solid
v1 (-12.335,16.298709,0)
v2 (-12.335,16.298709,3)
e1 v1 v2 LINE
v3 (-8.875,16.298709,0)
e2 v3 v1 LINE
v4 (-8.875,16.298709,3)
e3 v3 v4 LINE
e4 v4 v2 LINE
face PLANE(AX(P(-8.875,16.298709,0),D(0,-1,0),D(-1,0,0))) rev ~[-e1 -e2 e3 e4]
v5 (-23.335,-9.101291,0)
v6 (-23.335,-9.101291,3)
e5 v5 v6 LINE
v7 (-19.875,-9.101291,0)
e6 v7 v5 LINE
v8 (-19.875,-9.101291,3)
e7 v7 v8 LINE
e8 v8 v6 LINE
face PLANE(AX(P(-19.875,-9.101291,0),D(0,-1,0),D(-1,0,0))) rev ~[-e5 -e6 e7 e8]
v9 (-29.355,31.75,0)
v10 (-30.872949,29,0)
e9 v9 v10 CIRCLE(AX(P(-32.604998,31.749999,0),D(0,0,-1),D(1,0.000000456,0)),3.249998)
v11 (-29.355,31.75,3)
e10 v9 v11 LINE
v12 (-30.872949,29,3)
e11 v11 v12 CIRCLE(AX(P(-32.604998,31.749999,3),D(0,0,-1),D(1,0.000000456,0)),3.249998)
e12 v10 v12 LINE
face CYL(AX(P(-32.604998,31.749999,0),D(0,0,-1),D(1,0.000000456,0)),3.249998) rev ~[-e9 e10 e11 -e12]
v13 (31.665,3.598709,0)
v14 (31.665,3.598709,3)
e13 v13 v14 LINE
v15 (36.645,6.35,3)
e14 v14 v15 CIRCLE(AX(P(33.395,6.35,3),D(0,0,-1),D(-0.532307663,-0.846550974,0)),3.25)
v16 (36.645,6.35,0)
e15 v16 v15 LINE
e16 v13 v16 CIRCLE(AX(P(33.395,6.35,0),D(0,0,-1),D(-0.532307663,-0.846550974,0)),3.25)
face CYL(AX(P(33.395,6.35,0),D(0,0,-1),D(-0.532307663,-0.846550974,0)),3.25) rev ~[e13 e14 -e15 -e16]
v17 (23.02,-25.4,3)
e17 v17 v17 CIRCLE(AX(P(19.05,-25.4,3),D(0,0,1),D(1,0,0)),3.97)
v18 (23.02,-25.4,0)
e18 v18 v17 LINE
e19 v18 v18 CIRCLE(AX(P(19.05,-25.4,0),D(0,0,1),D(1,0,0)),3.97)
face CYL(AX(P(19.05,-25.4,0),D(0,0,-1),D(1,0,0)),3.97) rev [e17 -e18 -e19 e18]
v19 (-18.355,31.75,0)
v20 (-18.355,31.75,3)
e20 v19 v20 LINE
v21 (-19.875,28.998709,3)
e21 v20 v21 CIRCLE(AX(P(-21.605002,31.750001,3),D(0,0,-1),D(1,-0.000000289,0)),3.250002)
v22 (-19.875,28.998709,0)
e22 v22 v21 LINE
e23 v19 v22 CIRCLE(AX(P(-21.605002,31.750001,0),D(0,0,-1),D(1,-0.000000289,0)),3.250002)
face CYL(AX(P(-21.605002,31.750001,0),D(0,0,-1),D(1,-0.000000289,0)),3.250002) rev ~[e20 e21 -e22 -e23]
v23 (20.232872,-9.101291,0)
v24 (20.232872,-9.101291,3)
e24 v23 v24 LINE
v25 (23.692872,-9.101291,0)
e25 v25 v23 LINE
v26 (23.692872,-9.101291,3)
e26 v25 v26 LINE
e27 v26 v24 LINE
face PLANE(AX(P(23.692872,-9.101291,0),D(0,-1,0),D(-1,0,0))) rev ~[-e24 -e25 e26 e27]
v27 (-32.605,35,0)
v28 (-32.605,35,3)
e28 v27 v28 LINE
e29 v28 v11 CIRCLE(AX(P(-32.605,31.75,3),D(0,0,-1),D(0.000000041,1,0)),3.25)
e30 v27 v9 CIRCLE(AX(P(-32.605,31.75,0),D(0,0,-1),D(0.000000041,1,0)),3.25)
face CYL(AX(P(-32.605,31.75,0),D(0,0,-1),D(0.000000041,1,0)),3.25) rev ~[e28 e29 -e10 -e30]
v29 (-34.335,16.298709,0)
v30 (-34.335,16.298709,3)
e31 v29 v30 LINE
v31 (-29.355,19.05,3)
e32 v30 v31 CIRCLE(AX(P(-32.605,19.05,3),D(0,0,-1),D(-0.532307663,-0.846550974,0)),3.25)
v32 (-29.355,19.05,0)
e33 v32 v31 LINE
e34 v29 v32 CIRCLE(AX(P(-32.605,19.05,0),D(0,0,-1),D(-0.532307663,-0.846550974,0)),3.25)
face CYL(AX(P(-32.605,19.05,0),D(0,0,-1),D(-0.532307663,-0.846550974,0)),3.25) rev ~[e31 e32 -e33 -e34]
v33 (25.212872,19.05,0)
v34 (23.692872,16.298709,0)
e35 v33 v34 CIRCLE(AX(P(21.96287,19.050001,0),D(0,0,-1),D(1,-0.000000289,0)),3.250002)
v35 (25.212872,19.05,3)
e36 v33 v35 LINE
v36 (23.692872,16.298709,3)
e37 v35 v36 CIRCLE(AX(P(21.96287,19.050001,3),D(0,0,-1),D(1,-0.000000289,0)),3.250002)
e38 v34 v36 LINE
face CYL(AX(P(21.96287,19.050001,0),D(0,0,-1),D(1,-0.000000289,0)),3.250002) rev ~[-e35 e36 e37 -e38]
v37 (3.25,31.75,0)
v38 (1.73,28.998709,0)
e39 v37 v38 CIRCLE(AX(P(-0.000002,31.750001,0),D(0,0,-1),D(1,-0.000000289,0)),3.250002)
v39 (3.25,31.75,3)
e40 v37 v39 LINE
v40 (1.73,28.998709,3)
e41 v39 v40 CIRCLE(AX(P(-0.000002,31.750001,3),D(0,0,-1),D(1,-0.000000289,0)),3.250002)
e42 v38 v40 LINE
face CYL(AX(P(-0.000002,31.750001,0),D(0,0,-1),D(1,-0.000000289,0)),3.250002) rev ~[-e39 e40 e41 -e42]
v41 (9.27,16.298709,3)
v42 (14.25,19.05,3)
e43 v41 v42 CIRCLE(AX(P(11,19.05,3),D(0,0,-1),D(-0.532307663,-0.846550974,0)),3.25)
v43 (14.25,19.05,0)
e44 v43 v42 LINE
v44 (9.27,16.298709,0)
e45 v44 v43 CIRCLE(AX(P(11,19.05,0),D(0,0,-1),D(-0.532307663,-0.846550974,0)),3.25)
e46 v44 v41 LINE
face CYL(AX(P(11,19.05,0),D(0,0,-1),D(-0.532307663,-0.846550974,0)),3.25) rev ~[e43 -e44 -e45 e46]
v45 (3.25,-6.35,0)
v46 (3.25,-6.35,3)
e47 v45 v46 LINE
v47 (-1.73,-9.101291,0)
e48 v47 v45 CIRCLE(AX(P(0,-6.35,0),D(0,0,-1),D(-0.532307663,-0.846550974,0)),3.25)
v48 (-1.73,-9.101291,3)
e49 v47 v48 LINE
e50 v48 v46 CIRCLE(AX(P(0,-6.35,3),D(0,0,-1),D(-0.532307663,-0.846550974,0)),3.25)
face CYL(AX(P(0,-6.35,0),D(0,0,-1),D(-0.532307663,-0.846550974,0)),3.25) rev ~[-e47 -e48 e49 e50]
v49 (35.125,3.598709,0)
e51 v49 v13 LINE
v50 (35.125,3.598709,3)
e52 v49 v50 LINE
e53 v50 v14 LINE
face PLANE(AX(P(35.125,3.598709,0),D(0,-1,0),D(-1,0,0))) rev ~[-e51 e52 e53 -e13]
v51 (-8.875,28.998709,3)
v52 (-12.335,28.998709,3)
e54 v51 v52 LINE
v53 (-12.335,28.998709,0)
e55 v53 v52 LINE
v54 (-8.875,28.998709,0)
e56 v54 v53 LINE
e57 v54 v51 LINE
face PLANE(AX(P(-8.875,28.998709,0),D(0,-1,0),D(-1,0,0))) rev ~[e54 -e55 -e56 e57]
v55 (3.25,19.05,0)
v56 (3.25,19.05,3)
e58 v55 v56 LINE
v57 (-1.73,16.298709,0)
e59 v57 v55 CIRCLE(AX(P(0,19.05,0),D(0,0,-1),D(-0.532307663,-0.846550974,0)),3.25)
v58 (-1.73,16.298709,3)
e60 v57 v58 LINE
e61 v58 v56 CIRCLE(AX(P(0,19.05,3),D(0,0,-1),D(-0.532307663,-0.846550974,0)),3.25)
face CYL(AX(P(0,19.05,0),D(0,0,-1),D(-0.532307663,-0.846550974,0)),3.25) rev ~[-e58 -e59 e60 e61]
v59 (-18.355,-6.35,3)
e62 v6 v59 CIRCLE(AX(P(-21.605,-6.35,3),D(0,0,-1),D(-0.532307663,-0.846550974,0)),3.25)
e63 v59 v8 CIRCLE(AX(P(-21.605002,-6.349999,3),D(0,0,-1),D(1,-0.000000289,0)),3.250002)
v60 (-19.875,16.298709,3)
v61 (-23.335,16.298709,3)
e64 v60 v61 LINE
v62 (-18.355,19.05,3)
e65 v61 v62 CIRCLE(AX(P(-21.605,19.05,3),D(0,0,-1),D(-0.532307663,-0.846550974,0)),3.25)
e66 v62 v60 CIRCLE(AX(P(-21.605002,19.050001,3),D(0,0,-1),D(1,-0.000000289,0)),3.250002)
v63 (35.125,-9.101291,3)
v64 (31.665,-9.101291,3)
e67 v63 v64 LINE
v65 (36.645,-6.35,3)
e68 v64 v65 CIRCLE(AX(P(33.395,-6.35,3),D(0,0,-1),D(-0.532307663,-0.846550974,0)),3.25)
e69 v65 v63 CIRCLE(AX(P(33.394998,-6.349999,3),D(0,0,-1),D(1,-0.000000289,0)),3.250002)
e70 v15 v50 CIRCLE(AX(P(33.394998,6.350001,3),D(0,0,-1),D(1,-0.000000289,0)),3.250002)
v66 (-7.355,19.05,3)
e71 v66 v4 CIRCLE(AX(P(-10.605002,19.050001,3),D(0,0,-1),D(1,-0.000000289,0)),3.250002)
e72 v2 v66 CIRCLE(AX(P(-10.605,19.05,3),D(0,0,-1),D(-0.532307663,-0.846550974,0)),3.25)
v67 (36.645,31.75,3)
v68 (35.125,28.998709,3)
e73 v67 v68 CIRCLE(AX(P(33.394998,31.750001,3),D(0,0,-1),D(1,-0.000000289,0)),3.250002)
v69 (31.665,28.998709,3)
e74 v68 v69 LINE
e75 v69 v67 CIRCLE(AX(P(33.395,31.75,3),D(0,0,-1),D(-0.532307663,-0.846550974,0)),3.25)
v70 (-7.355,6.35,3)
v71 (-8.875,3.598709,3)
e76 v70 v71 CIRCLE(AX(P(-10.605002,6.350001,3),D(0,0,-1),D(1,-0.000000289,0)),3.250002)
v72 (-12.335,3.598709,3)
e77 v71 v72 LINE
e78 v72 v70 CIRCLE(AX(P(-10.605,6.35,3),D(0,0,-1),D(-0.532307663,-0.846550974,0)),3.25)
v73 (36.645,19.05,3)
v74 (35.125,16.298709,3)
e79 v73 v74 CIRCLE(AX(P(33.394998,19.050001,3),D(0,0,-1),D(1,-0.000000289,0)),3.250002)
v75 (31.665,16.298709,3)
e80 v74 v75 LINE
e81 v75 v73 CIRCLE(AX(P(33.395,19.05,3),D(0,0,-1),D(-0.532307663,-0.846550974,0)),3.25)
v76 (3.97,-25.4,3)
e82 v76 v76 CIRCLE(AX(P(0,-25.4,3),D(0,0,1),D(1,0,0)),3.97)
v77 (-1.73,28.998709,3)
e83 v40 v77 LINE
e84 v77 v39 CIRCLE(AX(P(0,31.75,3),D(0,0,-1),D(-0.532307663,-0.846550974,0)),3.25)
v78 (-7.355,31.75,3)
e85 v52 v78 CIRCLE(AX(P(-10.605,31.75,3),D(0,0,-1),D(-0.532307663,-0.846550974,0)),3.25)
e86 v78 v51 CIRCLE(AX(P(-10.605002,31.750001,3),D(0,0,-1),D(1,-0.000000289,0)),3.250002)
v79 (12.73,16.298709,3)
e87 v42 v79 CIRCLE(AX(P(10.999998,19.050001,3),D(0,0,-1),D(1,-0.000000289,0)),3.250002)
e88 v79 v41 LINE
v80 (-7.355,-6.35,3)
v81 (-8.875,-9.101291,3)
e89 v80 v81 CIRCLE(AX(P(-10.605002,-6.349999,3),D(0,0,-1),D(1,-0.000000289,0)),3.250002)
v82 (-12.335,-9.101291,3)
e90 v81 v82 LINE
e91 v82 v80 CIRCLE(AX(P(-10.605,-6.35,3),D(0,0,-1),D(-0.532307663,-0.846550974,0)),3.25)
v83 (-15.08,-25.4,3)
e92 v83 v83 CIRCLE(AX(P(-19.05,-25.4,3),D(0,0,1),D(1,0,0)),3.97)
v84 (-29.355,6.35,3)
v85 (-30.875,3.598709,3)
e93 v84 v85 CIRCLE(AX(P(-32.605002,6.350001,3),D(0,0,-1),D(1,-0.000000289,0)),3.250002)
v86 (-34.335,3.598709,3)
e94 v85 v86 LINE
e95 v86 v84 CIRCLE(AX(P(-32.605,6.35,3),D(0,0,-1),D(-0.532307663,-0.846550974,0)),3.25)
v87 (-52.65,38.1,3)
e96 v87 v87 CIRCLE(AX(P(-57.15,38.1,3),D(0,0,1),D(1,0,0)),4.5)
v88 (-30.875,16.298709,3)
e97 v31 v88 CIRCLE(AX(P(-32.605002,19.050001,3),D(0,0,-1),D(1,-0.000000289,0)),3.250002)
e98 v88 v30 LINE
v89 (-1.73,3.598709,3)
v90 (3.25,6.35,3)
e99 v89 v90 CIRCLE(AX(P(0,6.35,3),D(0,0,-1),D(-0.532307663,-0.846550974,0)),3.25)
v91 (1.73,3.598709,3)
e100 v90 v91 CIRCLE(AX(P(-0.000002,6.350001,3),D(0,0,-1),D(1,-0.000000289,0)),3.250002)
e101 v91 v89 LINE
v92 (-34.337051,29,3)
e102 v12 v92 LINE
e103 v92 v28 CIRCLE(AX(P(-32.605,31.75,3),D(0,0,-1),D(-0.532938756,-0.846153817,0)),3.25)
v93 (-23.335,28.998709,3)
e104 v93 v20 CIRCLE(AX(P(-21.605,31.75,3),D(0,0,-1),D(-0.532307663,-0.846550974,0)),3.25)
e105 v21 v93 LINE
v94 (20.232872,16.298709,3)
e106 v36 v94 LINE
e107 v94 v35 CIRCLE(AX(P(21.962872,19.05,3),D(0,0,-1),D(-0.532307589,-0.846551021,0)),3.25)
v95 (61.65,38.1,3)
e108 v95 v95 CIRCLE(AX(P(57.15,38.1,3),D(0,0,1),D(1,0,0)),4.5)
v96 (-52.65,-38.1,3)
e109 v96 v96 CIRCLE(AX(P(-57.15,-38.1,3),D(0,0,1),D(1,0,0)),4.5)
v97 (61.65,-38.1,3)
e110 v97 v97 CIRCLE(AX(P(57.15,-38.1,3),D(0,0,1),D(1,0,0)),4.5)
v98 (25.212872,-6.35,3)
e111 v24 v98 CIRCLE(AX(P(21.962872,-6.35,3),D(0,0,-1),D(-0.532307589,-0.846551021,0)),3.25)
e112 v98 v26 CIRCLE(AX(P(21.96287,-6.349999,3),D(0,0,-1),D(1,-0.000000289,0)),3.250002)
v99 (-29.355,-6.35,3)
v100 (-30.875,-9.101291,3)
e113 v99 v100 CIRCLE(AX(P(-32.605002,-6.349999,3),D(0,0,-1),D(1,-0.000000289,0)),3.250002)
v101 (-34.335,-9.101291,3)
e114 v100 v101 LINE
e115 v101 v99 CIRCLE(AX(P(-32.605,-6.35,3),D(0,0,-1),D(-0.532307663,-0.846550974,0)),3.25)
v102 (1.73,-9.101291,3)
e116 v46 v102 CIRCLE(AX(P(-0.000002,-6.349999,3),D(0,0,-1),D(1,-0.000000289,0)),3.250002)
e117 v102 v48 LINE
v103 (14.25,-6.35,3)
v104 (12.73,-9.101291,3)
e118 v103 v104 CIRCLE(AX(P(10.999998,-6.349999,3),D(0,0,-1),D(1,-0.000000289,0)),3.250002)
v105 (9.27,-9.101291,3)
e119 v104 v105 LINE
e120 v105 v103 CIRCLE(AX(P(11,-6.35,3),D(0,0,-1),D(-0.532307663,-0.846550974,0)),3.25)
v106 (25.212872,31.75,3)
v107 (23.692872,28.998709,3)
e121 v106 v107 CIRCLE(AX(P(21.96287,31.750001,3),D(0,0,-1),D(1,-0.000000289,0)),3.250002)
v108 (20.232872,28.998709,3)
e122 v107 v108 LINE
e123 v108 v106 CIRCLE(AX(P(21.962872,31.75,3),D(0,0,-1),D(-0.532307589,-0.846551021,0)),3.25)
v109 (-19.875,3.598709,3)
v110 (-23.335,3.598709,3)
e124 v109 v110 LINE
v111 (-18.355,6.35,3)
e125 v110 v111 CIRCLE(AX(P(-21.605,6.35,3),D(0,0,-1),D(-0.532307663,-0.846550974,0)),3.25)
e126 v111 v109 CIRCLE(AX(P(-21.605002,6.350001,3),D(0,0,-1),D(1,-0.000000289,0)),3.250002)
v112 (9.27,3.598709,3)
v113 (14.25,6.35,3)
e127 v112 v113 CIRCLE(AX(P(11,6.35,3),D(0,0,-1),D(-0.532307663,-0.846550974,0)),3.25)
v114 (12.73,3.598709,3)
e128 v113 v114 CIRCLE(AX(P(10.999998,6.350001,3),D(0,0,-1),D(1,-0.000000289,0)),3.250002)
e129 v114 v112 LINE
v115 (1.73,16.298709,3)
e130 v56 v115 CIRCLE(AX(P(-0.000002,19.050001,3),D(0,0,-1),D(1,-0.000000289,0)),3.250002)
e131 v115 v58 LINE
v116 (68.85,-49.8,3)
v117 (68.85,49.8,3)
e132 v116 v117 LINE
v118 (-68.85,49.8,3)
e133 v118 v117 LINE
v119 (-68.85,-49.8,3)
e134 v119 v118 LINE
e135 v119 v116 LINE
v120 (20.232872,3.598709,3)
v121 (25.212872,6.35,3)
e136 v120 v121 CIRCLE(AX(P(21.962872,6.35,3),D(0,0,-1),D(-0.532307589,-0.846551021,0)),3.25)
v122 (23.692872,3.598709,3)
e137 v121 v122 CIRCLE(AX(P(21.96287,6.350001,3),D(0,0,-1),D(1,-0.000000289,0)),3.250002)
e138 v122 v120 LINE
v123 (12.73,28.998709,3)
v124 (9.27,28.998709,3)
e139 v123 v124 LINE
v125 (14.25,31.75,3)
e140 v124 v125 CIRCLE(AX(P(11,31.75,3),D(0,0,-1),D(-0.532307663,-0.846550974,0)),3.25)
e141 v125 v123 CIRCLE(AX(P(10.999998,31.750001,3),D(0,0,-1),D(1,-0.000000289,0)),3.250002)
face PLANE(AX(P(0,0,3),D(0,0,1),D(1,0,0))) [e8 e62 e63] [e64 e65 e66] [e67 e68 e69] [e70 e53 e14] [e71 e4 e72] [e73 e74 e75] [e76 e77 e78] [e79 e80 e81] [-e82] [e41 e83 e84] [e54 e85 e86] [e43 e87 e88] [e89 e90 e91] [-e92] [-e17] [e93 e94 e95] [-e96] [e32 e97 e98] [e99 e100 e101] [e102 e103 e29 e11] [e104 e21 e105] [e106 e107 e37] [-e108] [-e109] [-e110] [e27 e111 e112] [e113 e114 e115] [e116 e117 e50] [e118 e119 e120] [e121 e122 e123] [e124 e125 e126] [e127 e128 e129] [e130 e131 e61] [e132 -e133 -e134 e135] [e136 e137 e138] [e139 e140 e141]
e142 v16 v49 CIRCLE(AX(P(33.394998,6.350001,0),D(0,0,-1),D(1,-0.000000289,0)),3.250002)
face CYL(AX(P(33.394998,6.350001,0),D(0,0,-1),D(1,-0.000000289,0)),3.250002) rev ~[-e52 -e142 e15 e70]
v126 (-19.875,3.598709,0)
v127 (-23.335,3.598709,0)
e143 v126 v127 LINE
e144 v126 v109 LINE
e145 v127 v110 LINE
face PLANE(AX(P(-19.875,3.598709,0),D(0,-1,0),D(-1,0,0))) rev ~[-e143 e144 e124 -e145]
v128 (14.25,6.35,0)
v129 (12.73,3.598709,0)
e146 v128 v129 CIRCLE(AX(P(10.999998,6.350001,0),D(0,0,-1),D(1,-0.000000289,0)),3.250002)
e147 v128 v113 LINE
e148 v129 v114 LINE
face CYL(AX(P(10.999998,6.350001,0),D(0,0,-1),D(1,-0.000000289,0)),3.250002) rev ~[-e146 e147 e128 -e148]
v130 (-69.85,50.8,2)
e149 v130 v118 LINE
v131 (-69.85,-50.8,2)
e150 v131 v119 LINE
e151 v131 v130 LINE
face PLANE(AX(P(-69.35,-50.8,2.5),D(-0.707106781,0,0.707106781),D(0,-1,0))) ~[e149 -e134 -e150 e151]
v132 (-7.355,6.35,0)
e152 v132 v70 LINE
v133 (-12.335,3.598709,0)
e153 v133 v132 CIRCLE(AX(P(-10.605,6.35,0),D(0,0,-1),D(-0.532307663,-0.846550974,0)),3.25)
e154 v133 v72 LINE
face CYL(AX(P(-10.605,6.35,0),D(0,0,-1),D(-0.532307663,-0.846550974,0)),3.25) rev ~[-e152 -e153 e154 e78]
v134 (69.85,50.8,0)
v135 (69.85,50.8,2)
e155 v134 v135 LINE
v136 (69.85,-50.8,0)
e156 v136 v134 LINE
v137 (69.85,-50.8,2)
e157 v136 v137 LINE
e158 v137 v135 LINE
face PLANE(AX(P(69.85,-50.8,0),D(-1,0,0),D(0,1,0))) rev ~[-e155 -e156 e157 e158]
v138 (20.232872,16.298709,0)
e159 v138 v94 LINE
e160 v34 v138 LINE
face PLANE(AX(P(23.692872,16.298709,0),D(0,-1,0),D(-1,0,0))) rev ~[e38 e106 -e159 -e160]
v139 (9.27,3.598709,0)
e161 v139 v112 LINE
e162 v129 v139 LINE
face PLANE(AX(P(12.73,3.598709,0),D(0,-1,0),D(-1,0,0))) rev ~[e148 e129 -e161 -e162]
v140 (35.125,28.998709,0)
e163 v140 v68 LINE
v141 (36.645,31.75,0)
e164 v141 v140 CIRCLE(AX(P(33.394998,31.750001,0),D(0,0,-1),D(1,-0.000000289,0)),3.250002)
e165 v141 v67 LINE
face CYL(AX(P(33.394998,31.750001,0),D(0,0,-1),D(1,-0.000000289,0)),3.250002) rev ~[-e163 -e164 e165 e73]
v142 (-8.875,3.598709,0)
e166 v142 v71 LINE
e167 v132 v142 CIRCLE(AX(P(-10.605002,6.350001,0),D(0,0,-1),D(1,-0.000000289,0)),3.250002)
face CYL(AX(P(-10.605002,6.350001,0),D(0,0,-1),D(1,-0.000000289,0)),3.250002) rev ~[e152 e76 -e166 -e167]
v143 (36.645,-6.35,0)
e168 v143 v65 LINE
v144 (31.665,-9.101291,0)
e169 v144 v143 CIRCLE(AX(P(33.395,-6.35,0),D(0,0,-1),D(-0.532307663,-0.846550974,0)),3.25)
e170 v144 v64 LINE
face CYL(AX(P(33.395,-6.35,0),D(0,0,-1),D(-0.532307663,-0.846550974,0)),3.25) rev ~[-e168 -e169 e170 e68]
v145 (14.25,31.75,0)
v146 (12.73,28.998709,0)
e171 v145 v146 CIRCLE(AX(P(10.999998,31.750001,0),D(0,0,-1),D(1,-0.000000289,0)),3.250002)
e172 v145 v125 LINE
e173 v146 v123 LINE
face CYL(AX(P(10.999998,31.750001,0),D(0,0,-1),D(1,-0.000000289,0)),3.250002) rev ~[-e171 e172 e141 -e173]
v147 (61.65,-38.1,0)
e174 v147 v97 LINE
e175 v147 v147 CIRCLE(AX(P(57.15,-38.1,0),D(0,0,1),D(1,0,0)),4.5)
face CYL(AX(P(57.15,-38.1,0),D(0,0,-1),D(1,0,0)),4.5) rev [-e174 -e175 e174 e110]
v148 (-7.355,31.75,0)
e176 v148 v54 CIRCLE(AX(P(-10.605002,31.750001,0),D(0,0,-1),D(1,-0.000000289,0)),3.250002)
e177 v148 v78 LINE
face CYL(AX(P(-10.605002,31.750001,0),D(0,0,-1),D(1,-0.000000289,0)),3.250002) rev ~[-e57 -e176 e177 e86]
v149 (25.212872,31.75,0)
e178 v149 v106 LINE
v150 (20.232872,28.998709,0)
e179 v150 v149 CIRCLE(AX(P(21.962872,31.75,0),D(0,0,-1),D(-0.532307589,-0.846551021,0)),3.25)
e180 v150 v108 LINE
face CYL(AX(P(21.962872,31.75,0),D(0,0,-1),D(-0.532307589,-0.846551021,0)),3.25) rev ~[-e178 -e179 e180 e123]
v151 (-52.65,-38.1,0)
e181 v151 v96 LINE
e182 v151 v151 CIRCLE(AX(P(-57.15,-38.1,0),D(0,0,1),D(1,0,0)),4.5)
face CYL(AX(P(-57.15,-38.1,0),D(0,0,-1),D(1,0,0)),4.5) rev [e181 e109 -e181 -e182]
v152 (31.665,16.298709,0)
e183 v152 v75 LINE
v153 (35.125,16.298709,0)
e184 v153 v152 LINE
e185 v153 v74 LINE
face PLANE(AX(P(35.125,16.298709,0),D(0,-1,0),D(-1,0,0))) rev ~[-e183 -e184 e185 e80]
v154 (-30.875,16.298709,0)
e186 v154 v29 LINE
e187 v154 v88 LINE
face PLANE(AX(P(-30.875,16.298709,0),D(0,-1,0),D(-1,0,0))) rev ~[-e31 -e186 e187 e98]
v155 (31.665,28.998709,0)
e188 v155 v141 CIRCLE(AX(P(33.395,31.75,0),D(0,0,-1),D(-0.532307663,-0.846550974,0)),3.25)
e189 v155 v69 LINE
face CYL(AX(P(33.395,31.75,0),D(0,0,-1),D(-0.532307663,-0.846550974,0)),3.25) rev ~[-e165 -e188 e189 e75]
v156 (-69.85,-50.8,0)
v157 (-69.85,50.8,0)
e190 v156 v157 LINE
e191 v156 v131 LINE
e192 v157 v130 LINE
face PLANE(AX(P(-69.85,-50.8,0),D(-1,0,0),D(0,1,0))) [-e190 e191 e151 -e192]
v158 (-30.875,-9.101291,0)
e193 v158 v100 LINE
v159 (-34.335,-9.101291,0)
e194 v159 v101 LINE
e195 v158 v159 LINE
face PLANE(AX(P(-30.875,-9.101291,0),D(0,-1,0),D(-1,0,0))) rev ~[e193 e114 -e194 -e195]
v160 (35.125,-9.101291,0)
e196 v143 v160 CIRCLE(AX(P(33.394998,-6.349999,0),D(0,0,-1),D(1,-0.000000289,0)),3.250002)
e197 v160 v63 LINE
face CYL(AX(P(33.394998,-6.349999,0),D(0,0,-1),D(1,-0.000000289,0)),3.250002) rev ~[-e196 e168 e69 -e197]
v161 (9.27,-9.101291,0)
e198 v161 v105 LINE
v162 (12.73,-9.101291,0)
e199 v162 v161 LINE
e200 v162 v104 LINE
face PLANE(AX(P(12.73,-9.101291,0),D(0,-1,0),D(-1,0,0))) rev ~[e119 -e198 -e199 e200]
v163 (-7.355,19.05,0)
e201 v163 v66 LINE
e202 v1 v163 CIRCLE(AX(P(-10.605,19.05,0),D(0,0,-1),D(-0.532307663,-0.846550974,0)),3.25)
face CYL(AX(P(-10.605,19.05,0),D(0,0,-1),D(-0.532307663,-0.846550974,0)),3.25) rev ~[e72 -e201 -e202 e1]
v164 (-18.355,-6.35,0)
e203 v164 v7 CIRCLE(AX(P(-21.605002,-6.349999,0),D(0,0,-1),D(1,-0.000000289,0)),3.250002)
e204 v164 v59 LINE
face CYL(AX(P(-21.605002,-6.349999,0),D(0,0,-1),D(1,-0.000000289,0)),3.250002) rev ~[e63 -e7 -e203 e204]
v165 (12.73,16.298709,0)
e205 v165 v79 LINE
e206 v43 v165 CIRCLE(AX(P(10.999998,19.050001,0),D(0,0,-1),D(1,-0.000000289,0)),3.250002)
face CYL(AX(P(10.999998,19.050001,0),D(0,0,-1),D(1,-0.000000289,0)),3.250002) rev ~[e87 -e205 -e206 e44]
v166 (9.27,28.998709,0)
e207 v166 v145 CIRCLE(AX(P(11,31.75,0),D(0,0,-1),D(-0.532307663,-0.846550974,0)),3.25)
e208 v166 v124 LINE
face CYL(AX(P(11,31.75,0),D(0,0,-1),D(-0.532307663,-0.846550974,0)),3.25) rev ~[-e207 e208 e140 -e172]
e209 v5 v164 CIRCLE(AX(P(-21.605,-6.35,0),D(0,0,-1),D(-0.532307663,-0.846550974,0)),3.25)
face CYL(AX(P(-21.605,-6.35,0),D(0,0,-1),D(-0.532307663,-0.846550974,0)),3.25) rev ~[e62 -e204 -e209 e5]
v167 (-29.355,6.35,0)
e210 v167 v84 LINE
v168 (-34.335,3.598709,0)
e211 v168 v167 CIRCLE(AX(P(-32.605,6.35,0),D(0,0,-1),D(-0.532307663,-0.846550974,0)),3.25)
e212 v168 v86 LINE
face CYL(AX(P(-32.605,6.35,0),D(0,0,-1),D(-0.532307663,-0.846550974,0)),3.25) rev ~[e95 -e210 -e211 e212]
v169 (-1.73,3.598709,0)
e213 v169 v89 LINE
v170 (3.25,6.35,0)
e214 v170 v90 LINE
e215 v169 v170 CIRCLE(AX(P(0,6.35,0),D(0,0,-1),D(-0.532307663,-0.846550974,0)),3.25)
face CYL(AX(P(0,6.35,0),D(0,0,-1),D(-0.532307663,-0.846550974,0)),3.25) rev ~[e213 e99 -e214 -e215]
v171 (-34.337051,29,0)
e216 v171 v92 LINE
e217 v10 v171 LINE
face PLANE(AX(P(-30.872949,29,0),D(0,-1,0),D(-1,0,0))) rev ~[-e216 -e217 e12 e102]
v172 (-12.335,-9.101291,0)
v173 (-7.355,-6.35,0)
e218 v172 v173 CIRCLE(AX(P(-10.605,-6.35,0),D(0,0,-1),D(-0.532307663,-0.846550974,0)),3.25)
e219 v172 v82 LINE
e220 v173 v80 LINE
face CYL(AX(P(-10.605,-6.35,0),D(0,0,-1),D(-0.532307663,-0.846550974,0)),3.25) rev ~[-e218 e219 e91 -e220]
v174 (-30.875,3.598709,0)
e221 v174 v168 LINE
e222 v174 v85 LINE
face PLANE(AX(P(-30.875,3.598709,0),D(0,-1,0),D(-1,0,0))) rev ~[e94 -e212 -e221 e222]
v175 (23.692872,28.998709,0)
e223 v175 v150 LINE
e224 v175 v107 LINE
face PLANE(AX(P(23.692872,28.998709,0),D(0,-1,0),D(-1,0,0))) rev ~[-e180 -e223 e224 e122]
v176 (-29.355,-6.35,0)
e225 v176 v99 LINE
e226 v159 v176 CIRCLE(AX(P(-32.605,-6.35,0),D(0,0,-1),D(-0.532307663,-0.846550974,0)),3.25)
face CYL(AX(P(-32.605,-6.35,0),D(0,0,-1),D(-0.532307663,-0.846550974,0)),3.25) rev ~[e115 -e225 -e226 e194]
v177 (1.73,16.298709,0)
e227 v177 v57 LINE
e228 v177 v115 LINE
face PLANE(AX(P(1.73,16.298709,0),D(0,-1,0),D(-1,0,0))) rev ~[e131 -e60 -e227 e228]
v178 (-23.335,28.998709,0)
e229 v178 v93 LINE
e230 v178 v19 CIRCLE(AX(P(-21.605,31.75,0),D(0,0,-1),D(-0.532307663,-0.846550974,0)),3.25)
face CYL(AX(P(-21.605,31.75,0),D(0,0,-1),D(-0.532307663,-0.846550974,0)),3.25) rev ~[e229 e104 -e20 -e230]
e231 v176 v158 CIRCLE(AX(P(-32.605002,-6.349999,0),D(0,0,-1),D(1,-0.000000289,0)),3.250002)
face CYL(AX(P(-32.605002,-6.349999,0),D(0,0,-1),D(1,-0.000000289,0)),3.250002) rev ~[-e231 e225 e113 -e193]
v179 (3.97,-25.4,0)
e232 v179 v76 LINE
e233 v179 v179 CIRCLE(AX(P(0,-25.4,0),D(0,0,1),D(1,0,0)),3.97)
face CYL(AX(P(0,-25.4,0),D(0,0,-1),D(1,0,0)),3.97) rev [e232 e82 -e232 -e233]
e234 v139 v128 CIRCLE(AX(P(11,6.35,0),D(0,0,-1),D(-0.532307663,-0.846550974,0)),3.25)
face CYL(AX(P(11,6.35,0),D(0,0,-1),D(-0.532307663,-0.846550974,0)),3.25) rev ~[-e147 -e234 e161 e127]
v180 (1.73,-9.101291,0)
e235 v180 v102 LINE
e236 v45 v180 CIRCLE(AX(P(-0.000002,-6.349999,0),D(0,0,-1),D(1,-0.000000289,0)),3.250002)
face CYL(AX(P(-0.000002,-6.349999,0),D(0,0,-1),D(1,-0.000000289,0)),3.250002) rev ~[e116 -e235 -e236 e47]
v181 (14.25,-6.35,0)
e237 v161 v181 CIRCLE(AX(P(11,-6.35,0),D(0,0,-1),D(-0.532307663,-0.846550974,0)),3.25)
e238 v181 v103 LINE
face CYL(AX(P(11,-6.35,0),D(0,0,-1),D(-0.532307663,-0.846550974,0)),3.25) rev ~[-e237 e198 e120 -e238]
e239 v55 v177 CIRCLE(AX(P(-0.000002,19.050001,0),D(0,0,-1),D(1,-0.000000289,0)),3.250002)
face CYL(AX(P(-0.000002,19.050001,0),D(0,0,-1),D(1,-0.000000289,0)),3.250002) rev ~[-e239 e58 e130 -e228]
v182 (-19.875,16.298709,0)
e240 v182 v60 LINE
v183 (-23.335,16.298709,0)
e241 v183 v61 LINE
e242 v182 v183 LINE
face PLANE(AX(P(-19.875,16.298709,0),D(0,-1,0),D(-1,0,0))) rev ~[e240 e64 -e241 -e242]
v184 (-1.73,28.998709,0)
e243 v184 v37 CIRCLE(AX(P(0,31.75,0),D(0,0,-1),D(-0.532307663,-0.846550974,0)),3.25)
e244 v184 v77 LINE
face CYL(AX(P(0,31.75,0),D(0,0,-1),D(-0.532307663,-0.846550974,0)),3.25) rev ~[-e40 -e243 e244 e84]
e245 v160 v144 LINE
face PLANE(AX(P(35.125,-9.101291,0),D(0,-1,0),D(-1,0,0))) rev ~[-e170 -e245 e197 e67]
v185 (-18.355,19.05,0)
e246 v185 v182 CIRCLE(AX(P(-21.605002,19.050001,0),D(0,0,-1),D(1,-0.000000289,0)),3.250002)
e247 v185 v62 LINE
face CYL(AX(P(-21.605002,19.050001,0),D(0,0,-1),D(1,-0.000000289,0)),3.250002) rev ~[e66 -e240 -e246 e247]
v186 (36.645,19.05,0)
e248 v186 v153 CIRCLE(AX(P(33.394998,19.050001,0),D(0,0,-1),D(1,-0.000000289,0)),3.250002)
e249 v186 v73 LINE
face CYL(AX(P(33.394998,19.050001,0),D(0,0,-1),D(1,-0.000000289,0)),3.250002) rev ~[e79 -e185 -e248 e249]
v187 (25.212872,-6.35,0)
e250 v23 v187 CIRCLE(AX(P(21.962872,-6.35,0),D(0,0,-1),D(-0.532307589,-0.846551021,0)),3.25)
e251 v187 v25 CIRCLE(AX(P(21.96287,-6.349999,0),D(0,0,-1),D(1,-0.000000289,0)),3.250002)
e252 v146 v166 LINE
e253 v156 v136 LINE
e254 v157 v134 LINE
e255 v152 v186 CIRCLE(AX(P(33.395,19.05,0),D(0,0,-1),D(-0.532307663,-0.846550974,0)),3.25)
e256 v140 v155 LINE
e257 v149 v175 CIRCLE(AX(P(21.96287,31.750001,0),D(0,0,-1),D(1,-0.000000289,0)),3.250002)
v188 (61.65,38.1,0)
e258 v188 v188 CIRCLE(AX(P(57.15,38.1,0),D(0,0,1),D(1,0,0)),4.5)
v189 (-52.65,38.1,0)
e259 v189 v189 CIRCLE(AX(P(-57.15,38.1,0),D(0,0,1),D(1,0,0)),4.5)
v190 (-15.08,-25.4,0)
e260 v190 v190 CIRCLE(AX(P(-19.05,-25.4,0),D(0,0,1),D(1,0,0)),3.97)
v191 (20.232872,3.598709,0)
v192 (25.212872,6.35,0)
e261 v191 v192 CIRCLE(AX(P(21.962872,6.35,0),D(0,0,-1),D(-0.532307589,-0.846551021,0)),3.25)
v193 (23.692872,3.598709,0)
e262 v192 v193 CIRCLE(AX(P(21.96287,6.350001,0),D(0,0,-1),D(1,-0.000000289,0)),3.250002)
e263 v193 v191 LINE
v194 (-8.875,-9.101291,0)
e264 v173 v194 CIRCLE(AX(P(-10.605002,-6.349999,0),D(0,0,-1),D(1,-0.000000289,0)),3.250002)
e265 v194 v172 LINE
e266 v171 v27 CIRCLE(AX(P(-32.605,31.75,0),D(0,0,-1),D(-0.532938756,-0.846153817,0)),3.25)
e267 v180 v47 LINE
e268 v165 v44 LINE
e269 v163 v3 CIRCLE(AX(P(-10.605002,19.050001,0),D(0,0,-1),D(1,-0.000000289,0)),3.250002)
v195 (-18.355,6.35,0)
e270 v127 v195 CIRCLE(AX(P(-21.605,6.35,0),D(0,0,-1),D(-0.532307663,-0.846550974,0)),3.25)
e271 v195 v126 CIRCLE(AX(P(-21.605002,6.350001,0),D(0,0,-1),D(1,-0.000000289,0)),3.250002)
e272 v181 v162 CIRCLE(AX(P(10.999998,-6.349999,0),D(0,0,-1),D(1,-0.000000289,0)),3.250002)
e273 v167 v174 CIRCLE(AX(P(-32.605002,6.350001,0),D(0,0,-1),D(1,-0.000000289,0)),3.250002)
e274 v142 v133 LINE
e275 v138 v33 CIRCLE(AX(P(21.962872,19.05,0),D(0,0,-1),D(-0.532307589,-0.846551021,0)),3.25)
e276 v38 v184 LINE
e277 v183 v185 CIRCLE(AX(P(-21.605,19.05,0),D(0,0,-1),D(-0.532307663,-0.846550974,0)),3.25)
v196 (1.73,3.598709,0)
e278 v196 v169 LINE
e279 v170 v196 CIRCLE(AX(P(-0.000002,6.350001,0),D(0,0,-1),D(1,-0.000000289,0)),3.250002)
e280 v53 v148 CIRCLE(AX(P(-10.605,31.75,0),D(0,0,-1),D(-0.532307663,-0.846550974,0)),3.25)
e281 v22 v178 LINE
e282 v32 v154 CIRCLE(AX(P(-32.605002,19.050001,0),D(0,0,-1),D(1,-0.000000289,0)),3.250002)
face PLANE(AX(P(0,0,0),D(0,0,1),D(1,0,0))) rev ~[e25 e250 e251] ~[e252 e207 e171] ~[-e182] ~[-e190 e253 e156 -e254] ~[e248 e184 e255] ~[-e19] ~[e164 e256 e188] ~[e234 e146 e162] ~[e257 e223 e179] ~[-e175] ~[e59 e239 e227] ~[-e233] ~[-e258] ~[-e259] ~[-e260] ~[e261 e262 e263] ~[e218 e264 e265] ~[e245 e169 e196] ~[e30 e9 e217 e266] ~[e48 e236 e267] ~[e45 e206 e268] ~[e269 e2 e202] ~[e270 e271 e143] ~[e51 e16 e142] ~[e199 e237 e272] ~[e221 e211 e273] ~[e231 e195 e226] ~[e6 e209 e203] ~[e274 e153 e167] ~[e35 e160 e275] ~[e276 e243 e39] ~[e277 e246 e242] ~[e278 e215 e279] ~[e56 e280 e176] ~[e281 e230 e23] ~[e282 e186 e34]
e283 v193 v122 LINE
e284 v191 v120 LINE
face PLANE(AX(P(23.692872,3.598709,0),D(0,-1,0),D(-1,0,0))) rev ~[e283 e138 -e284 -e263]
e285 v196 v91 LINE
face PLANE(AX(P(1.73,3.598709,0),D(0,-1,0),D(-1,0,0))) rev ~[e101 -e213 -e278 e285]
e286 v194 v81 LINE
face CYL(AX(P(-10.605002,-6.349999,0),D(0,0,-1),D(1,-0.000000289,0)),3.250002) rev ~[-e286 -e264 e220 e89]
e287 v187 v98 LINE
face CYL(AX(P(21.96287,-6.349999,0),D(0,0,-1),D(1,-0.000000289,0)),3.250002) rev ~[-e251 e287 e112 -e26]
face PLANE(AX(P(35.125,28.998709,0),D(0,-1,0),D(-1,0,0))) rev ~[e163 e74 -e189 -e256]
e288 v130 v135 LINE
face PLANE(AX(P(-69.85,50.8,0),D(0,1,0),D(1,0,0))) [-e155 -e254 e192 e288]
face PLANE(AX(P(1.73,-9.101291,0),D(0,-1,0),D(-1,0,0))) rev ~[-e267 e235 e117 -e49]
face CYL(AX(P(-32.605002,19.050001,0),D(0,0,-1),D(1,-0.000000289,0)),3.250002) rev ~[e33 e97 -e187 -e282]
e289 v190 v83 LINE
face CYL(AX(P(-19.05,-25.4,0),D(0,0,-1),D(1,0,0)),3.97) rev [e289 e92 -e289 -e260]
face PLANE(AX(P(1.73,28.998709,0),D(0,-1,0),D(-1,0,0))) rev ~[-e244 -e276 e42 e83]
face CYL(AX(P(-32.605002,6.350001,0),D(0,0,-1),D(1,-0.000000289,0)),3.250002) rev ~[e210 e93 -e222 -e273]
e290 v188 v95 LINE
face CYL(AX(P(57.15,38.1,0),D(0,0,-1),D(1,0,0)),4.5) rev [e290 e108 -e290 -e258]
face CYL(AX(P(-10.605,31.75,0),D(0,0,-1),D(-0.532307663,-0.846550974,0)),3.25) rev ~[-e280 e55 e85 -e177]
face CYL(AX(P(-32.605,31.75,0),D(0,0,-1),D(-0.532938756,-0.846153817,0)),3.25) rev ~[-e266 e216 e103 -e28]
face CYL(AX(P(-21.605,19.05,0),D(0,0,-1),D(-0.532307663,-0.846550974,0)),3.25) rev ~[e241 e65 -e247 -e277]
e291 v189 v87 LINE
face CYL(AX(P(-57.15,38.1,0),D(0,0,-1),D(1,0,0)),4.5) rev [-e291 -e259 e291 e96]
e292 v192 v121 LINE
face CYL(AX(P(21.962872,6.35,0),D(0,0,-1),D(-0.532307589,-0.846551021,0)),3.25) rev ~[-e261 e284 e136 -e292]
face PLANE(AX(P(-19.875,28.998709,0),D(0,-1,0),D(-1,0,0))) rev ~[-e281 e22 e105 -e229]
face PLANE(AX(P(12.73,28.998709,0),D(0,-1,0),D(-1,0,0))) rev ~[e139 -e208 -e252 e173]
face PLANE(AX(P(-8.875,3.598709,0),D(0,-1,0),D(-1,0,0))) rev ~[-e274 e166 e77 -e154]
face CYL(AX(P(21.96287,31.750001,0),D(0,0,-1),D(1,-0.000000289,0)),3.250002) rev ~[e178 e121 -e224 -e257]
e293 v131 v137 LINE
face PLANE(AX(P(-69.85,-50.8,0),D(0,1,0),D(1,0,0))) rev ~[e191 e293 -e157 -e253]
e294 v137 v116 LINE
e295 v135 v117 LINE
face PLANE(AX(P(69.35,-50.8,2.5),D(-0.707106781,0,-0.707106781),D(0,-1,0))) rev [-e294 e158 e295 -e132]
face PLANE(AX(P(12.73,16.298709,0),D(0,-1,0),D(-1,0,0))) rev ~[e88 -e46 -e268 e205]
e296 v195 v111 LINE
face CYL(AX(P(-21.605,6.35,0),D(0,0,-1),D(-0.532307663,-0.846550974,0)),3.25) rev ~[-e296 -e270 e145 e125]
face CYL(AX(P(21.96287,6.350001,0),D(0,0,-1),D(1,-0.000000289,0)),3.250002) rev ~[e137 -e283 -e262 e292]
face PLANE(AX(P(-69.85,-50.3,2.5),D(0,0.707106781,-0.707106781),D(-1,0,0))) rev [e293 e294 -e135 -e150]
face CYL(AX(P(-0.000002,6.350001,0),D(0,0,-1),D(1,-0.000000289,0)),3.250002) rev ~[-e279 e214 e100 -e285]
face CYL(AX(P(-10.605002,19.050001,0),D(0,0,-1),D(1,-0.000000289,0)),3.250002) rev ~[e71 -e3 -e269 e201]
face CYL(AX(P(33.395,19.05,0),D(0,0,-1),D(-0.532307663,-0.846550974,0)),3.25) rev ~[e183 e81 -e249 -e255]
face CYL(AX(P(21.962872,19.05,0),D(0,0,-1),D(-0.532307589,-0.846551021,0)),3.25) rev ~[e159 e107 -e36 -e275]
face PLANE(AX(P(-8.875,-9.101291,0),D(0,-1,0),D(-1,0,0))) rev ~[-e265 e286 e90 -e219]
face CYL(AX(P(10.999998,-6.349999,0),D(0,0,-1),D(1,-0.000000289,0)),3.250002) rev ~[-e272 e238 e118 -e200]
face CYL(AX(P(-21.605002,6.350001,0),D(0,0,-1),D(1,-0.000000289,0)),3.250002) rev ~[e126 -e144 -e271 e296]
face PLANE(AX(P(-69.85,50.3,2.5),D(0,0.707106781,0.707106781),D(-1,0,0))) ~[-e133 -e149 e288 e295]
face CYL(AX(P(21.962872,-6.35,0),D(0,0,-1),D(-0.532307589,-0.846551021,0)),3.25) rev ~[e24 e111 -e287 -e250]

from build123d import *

# Parameters (mm, degrees)
F0_W     = 139.7
F0_H     = 101.6
F0_R     = 4.5
F0_R_2   = 3.97
F1_DEPTH = 3
F2_SIZE  = 1


with BuildPart() as f1:
    # F0 (on Top) → F1 (new body)
    with BuildSketch(Plane.XY):
        Rectangle(F0_W, F0_H)
        with Locations((-57.15, -38.1)):
            Circle(F0_R, mode=Mode.SUBTRACT)
        with Locations((-19.05, -25.4)):
            Circle(F0_R_2, mode=Mode.SUBTRACT)
        with BuildLine():
            ThreePointArc((-34.335, -9.101291), (-34.176623, -3.505268), (-29.355, -6.35))
            ThreePointArc((-29.355, -6.35), (-29.760268, -7.921623), (-30.875, -9.101291))
            ThreePointArc((-30.875, -9.101291), (-32.605, -9.6), (-34.335, -9.101291))
        make_face(mode=Mode.SUBTRACT)
        with BuildLine():
            ThreePointArc((-23.335, -9.101291), (-23.176623, -3.505268), (-18.355, -6.35))
            ThreePointArc((-18.355, -6.35), (-18.760268, -7.921623), (-19.875, -9.101291))
            ThreePointArc((-19.875, -9.101291), (-21.605, -9.6), (-23.335, -9.101291))
        make_face(mode=Mode.SUBTRACT)
        with BuildLine():
            ThreePointArc((-12.335, -9.101291), (-12.176623, -3.505268), (-7.355, -6.35))
            ThreePointArc((-7.355, -6.35), (-7.760268, -7.921623), (-8.875, -9.101291))
            ThreePointArc((-8.875, -9.101291), (-10.605, -9.6), (-12.335, -9.101291))
        make_face(mode=Mode.SUBTRACT)
        with Locations((0, -25.4)):
            Circle(F0_R_2, mode=Mode.SUBTRACT)
        with Locations((19.05, -25.4)):
            Circle(F0_R_2, mode=Mode.SUBTRACT)
        with Locations((57.15, -38.1)):
            Circle(F0_R, mode=Mode.SUBTRACT)
        with BuildLine():
            ThreePointArc((-1.73, -9.101291), (-1.571623, -3.505268), (3.25, -6.35))
            ThreePointArc((3.25, -6.35), (2.844732, -7.921623), (1.73, -9.101291))
            ThreePointArc((1.73, -9.101291), (0, -9.6), (-1.73, -9.101291))
        make_face(mode=Mode.SUBTRACT)
        with BuildLine():
            ThreePointArc((9.27, -9.101291), (9.428377, -3.505268), (14.25, -6.35))
            ThreePointArc((14.25, -6.35), (13.844732, -7.921623), (12.73, -9.101291))
            ThreePointArc((12.73, -9.101291), (11, -9.6), (9.27, -9.101291))
        make_face(mode=Mode.SUBTRACT)
        with BuildLine():
            ThreePointArc((20.232872, -9.101291), (20.391248, -3.505268), (25.212872, -6.35))
            ThreePointArc((25.212872, -6.35), (24.807604, -7.921623), (23.692872, -9.101291))
            ThreePointArc((23.692872, -9.101291), (21.962872, -9.6), (20.232872, -9.101291))
        make_face(mode=Mode.SUBTRACT)
        with BuildLine():
            ThreePointArc((31.665, -9.101291), (31.823377, -3.505268), (36.645, -6.35))
            ThreePointArc((36.645, -6.35), (36.239732, -7.921623), (35.125, -9.101291))
            ThreePointArc((35.125, -9.101291), (33.395, -9.6), (31.665, -9.101291))
        make_face(mode=Mode.SUBTRACT)
        with BuildLine():
            ThreePointArc((-34.335, 3.598709), (-34.176623, 9.194732), (-29.355, 6.35))
            ThreePointArc((-29.355, 6.35), (-29.760268, 4.778377), (-30.875, 3.598709))
            ThreePointArc((-30.875, 3.598709), (-32.605, 3.1), (-34.335, 3.598709))
        make_face(mode=Mode.SUBTRACT)
        with BuildLine():
            ThreePointArc((-23.335, 3.598709), (-23.176623, 9.194732), (-18.355, 6.35))
            ThreePointArc((-18.355, 6.35), (-18.760268, 4.778377), (-19.875, 3.598709))
            ThreePointArc((-19.875, 3.598709), (-21.605, 3.1), (-23.335, 3.598709))
        make_face(mode=Mode.SUBTRACT)
        with BuildLine():
            ThreePointArc((-12.335, 3.598709), (-12.176623, 9.194732), (-7.355, 6.35))
            ThreePointArc((-7.355, 6.35), (-7.760268, 4.778377), (-8.875, 3.598709))
            ThreePointArc((-8.875, 3.598709), (-10.605, 3.1), (-12.335, 3.598709))
        make_face(mode=Mode.SUBTRACT)
        with BuildLine():
            ThreePointArc((-34.335, 16.298709), (-34.176623, 21.894732), (-29.355, 19.05))
            ThreePointArc((-29.355, 19.05), (-29.760268, 17.478377), (-30.875, 16.298709))
            ThreePointArc((-30.875, 16.298709), (-32.605, 15.8), (-34.335, 16.298709))
        make_face(mode=Mode.SUBTRACT)
        with BuildLine():
            ThreePointArc((-23.335, 16.298709), (-23.176623, 21.894732), (-18.355, 19.05))
            ThreePointArc((-18.355, 19.05), (-18.760268, 17.478377), (-19.875, 16.298709))
            ThreePointArc((-19.875, 16.298709), (-21.605, 15.8), (-23.335, 16.298709))
        make_face(mode=Mode.SUBTRACT)
        with BuildLine():
            ThreePointArc((-12.335, 16.298709), (-12.176623, 21.894732), (-7.355, 19.05))
            ThreePointArc((-7.355, 19.05), (-7.760268, 17.478377), (-8.875, 16.298709))
            ThreePointArc((-8.875, 16.298709), (-10.605, 15.8), (-12.335, 16.298709))
        make_face(mode=Mode.SUBTRACT)
        with Locations((-57.15, 38.1)):
            Circle(F0_R, mode=Mode.SUBTRACT)
        with BuildLine():
            ThreePointArc((-32.605, 35), (-30.306903, 34.048097), (-29.355, 31.75))
            ThreePointArc((-29.355, 31.75), (-29.759682, 30.179437), (-30.872949, 29))
            ThreePointArc((-30.872949, 29), (-32.605, 28.5), (-34.337051, 29))
            ThreePointArc((-34.337051, 29), (-35.727499, 32.651388), (-32.605, 35))
        make_face(mode=Mode.SUBTRACT)
        with BuildLine():
            ThreePointArc((-23.335, 28.998709), (-23.176623, 34.594732), (-18.355, 31.75))
            ThreePointArc((-18.355, 31.75), (-18.760268, 30.178377), (-19.875, 28.998709))
            ThreePointArc((-19.875, 28.998709), (-21.605, 28.5), (-23.335, 28.998709))
        make_face(mode=Mode.SUBTRACT)
        with BuildLine():
            ThreePointArc((-12.335, 28.998709), (-12.176623, 34.594732), (-7.355, 31.75))
            ThreePointArc((-7.355, 31.75), (-7.760268, 30.178377), (-8.875, 28.998709))
            ThreePointArc((-8.875, 28.998709), (-10.605, 28.5), (-12.335, 28.998709))
        make_face(mode=Mode.SUBTRACT)
        with BuildLine():
            ThreePointArc((-1.73, 3.598709), (-1.571623, 9.194732), (3.25, 6.35))
            ThreePointArc((3.25, 6.35), (2.844732, 4.778377), (1.73, 3.598709))
            ThreePointArc((1.73, 3.598709), (0, 3.1), (-1.73, 3.598709))
        make_face(mode=Mode.SUBTRACT)
        with BuildLine():
            ThreePointArc((9.27, 3.598709), (9.428377, 9.194732), (14.25, 6.35))
            ThreePointArc((14.25, 6.35), (13.844732, 4.778377), (12.73, 3.598709))
            ThreePointArc((12.73, 3.598709), (11, 3.1), (9.27, 3.598709))
        make_face(mode=Mode.SUBTRACT)
        with BuildLine():
            ThreePointArc((20.232872, 3.598709), (20.391248, 9.194732), (25.212872, 6.35))
            ThreePointArc((25.212872, 6.35), (24.807604, 4.778377), (23.692872, 3.598709))
            ThreePointArc((23.692872, 3.598709), (21.962872, 3.1), (20.232872, 3.598709))
        make_face(mode=Mode.SUBTRACT)
        with BuildLine():
            ThreePointArc((31.665, 3.598709), (31.823377, 9.194732), (36.645, 6.35))
            ThreePointArc((36.645, 6.35), (36.239732, 4.778377), (35.125, 3.598709))
            ThreePointArc((35.125, 3.598709), (33.395, 3.1), (31.665, 3.598709))
        make_face(mode=Mode.SUBTRACT)
        with BuildLine():
            ThreePointArc((-1.73, 16.298709), (-1.571623, 21.894732), (3.25, 19.05))
            ThreePointArc((3.25, 19.05), (2.844732, 17.478377), (1.73, 16.298709))
            ThreePointArc((1.73, 16.298709), (0, 15.8), (-1.73, 16.298709))
        make_face(mode=Mode.SUBTRACT)
        with BuildLine():
            ThreePointArc((9.27, 16.298709), (9.428377, 21.894732), (14.25, 19.05))
            ThreePointArc((14.25, 19.05), (13.844732, 17.478377), (12.73, 16.298709))
            ThreePointArc((12.73, 16.298709), (11, 15.8), (9.27, 16.298709))
        make_face(mode=Mode.SUBTRACT)
        with BuildLine():
            ThreePointArc((20.232872, 16.298709), (20.391248, 21.894732), (25.212872, 19.05))
            ThreePointArc((25.212872, 19.05), (24.807604, 17.478377), (23.692872, 16.298709))
            ThreePointArc((23.692872, 16.298709), (21.962872, 15.8), (20.232872, 16.298709))
        make_face(mode=Mode.SUBTRACT)
        with BuildLine():
            ThreePointArc((31.665, 16.298709), (31.823377, 21.894732), (36.645, 19.05))
            ThreePointArc((36.645, 19.05), (36.239732, 17.478377), (35.125, 16.298709))
            ThreePointArc((35.125, 16.298709), (33.395, 15.8), (31.665, 16.298709))
        make_face(mode=Mode.SUBTRACT)
        with BuildLine():
            ThreePointArc((-1.73, 28.998709), (-1.571623, 34.594732), (3.25, 31.75))
            ThreePointArc((3.25, 31.75), (2.844732, 30.178377), (1.73, 28.998709))
            ThreePointArc((1.73, 28.998709), (0, 28.5), (-1.73, 28.998709))
        make_face(mode=Mode.SUBTRACT)
        with BuildLine():
            ThreePointArc((9.27, 28.998709), (9.428377, 34.594732), (14.25, 31.75))
            ThreePointArc((14.25, 31.75), (13.844732, 30.178377), (12.73, 28.998709))
            ThreePointArc((12.73, 28.998709), (11, 28.5), (9.27, 28.998709))
        make_face(mode=Mode.SUBTRACT)
        with BuildLine():
            ThreePointArc((20.232872, 28.998709), (20.391248, 34.594732), (25.212872, 31.75))
            ThreePointArc((25.212872, 31.75), (24.807604, 30.178377), (23.692872, 28.998709))
            ThreePointArc((23.692872, 28.998709), (21.962872, 28.5), (20.232872, 28.998709))
        make_face(mode=Mode.SUBTRACT)
        with BuildLine():
            ThreePointArc((31.665, 28.998709), (31.823377, 34.594732), (36.645, 31.75))
            ThreePointArc((36.645, 31.75), (36.239732, 30.178377), (35.125, 28.998709))
            ThreePointArc((35.125, 28.998709), (33.395, 28.5), (31.665, 28.998709))
        make_face(mode=Mode.SUBTRACT)
        with Locations((57.15, 38.1)):
            Circle(F0_R, mode=Mode.SUBTRACT)
        with BuildLine():
            Line((-30.875, 16.298709), (-34.335, 16.298709))
            ThreePointArc((-34.335, 16.298709), (-32.605, 15.8), (-30.875, 16.298709))
        make_face()
        with BuildLine():
            Line((-19.875, 16.298709), (-23.335, 16.298709))
            ThreePointArc((-23.335, 16.298709), (-21.605, 15.8), (-19.875, 16.298709))
        make_face()
        with BuildLine():
            Line((-8.875, 16.298709), (-12.335, 16.298709))
            ThreePointArc((-12.335, 16.298709), (-10.605, 15.8), (-8.875, 16.298709))
        make_face()
        with BuildLine():
            Line((-30.875, 3.598709), (-34.335, 3.598709))
            ThreePointArc((-34.335, 3.598709), (-32.605, 3.1), (-30.875, 3.598709))
        make_face()
        with BuildLine():
            Line((-19.875, 3.598709), (-23.335, 3.598709))
            ThreePointArc((-23.335, 3.598709), (-21.605, 3.1), (-19.875, 3.598709))
        make_face()
        with BuildLine():
            Line((-8.875, 3.598709), (-12.335, 3.598709))
            ThreePointArc((-12.335, 3.598709), (-10.605, 3.1), (-8.875, 3.598709))
        make_face()
        with BuildLine():
            Line((1.73, 16.298709), (-1.73, 16.298709))
            ThreePointArc((-1.73, 16.298709), (0, 15.8), (1.73, 16.298709))
        make_face()
        with BuildLine():
            Line((1.73, 3.598709), (-1.73, 3.598709))
            ThreePointArc((-1.73, 3.598709), (0, 3.1), (1.73, 3.598709))
        make_face()
        with BuildLine():
            Line((12.73, 3.598709), (9.27, 3.598709))
            ThreePointArc((9.27, 3.598709), (11, 3.1), (12.73, 3.598709))
        make_face()
        with BuildLine():
            Line((12.73, 16.298709), (9.27, 16.298709))
            ThreePointArc((9.27, 16.298709), (11, 15.8), (12.73, 16.298709))
        make_face()
        with BuildLine():
            Line((23.692872, 16.298709), (20.232872, 16.298709))
            ThreePointArc((20.232872, 16.298709), (21.962872, 15.8), (23.692872, 16.298709))
        make_face()
        with BuildLine():
            Line((23.692872, 3.598709), (20.232872, 3.598709))
            ThreePointArc((20.232872, 3.598709), (21.962872, 3.1), (23.692872, 3.598709))
        make_face()
        with BuildLine():
            Line((35.125, 16.298709), (31.665, 16.298709))
            ThreePointArc((31.665, 16.298709), (33.395, 15.8), (35.125, 16.298709))
        make_face()
        with BuildLine():
            Line((35.125, 3.598709), (31.665, 3.598709))
            ThreePointArc((31.665, 3.598709), (33.395, 3.1), (35.125, 3.598709))
        make_face()
        with BuildLine():
            Line((34.606364, -9.101291), (31.665, -9.101291))
            ThreePointArc((31.665, -9.101291), (33.395, -9.6), (35.125, -9.101291))
            Line((35.125, -9.101291), (34.606364, -9.101291))
        make_face()
        with BuildLine():
            Line((23.692872, -9.101291), (20.232872, -9.101291))
            ThreePointArc((20.232872, -9.101291), (21.962872, -9.6), (23.692872, -9.101291))
        make_face()
        with BuildLine():
            Line((12.73, -9.101291), (9.27, -9.101291))
            ThreePointArc((9.27, -9.101291), (11, -9.6), (12.73, -9.101291))
        make_face()
        with BuildLine():
            Line((1.73, -9.101291), (-1.73, -9.101291))
            ThreePointArc((-1.73, -9.101291), (0, -9.6), (1.73, -9.101291))
        make_face()
        with BuildLine():
            Line((-8.875, -9.101291), (-12.335, -9.101291))
            ThreePointArc((-12.335, -9.101291), (-10.605, -9.6), (-8.875, -9.101291))
        make_face()
        with BuildLine():
            Line((-19.875, -9.101291), (-23.335, -9.101291))
            ThreePointArc((-23.335, -9.101291), (-21.605, -9.6), (-19.875, -9.101291))
        make_face()
        with BuildLine():
            Line((-30.875, -9.101291), (-34.335, -9.101291))
            ThreePointArc((-34.335, -9.101291), (-32.605, -9.6), (-30.875, -9.101291))
        make_face()
        with BuildLine():
            ThreePointArc((-34.337051, 29), (-32.605, 28.5), (-30.872949, 29))
            Line((-30.872949, 29), (-34.337051, 29))
        make_face()
        with BuildLine():
            Line((-19.875, 28.998709), (-23.335, 28.998709))
            ThreePointArc((-23.335, 28.998709), (-21.605, 28.5), (-19.875, 28.998709))
        make_face()
        with BuildLine():
            Line((-8.875, 28.998709), (-12.335, 28.998709))
            ThreePointArc((-12.335, 28.998709), (-10.605, 28.5), (-8.875, 28.998709))
        make_face()
        with BuildLine():
            Line((1.73, 28.998709), (-1.73, 28.998709))
            ThreePointArc((-1.73, 28.998709), (0, 28.5), (1.73, 28.998709))
        make_face()
        with BuildLine():
            Line((12.73, 28.998709), (9.27, 28.998709))
            ThreePointArc((9.27, 28.998709), (11, 28.5), (12.73, 28.998709))
        make_face()
        with BuildLine():
            Line((23.692872, 28.998709), (20.232872, 28.998709))
            ThreePointArc((20.232872, 28.998709), (21.962872, 28.5), (23.692872, 28.998709))
        make_face()
        with BuildLine():
            Line((35.125, 28.998709), (31.665, 28.998709))
            ThreePointArc((31.665, 28.998709), (33.395, 28.5), (35.125, 28.998709))
        make_face()
    extrude(amount=F1_DEPTH)

    # F2
    f2_edges = [f1.edges().sort_by_distance(p)[0] for p in [
        (0, 50.8, 3),
        (-69.85, 0, 3),
        (69.85, 0, 3),
        (0, -50.8, 3),
    ]]
    chamfer(f2_edges, length=F2_SIZE)


solid = f1.part
